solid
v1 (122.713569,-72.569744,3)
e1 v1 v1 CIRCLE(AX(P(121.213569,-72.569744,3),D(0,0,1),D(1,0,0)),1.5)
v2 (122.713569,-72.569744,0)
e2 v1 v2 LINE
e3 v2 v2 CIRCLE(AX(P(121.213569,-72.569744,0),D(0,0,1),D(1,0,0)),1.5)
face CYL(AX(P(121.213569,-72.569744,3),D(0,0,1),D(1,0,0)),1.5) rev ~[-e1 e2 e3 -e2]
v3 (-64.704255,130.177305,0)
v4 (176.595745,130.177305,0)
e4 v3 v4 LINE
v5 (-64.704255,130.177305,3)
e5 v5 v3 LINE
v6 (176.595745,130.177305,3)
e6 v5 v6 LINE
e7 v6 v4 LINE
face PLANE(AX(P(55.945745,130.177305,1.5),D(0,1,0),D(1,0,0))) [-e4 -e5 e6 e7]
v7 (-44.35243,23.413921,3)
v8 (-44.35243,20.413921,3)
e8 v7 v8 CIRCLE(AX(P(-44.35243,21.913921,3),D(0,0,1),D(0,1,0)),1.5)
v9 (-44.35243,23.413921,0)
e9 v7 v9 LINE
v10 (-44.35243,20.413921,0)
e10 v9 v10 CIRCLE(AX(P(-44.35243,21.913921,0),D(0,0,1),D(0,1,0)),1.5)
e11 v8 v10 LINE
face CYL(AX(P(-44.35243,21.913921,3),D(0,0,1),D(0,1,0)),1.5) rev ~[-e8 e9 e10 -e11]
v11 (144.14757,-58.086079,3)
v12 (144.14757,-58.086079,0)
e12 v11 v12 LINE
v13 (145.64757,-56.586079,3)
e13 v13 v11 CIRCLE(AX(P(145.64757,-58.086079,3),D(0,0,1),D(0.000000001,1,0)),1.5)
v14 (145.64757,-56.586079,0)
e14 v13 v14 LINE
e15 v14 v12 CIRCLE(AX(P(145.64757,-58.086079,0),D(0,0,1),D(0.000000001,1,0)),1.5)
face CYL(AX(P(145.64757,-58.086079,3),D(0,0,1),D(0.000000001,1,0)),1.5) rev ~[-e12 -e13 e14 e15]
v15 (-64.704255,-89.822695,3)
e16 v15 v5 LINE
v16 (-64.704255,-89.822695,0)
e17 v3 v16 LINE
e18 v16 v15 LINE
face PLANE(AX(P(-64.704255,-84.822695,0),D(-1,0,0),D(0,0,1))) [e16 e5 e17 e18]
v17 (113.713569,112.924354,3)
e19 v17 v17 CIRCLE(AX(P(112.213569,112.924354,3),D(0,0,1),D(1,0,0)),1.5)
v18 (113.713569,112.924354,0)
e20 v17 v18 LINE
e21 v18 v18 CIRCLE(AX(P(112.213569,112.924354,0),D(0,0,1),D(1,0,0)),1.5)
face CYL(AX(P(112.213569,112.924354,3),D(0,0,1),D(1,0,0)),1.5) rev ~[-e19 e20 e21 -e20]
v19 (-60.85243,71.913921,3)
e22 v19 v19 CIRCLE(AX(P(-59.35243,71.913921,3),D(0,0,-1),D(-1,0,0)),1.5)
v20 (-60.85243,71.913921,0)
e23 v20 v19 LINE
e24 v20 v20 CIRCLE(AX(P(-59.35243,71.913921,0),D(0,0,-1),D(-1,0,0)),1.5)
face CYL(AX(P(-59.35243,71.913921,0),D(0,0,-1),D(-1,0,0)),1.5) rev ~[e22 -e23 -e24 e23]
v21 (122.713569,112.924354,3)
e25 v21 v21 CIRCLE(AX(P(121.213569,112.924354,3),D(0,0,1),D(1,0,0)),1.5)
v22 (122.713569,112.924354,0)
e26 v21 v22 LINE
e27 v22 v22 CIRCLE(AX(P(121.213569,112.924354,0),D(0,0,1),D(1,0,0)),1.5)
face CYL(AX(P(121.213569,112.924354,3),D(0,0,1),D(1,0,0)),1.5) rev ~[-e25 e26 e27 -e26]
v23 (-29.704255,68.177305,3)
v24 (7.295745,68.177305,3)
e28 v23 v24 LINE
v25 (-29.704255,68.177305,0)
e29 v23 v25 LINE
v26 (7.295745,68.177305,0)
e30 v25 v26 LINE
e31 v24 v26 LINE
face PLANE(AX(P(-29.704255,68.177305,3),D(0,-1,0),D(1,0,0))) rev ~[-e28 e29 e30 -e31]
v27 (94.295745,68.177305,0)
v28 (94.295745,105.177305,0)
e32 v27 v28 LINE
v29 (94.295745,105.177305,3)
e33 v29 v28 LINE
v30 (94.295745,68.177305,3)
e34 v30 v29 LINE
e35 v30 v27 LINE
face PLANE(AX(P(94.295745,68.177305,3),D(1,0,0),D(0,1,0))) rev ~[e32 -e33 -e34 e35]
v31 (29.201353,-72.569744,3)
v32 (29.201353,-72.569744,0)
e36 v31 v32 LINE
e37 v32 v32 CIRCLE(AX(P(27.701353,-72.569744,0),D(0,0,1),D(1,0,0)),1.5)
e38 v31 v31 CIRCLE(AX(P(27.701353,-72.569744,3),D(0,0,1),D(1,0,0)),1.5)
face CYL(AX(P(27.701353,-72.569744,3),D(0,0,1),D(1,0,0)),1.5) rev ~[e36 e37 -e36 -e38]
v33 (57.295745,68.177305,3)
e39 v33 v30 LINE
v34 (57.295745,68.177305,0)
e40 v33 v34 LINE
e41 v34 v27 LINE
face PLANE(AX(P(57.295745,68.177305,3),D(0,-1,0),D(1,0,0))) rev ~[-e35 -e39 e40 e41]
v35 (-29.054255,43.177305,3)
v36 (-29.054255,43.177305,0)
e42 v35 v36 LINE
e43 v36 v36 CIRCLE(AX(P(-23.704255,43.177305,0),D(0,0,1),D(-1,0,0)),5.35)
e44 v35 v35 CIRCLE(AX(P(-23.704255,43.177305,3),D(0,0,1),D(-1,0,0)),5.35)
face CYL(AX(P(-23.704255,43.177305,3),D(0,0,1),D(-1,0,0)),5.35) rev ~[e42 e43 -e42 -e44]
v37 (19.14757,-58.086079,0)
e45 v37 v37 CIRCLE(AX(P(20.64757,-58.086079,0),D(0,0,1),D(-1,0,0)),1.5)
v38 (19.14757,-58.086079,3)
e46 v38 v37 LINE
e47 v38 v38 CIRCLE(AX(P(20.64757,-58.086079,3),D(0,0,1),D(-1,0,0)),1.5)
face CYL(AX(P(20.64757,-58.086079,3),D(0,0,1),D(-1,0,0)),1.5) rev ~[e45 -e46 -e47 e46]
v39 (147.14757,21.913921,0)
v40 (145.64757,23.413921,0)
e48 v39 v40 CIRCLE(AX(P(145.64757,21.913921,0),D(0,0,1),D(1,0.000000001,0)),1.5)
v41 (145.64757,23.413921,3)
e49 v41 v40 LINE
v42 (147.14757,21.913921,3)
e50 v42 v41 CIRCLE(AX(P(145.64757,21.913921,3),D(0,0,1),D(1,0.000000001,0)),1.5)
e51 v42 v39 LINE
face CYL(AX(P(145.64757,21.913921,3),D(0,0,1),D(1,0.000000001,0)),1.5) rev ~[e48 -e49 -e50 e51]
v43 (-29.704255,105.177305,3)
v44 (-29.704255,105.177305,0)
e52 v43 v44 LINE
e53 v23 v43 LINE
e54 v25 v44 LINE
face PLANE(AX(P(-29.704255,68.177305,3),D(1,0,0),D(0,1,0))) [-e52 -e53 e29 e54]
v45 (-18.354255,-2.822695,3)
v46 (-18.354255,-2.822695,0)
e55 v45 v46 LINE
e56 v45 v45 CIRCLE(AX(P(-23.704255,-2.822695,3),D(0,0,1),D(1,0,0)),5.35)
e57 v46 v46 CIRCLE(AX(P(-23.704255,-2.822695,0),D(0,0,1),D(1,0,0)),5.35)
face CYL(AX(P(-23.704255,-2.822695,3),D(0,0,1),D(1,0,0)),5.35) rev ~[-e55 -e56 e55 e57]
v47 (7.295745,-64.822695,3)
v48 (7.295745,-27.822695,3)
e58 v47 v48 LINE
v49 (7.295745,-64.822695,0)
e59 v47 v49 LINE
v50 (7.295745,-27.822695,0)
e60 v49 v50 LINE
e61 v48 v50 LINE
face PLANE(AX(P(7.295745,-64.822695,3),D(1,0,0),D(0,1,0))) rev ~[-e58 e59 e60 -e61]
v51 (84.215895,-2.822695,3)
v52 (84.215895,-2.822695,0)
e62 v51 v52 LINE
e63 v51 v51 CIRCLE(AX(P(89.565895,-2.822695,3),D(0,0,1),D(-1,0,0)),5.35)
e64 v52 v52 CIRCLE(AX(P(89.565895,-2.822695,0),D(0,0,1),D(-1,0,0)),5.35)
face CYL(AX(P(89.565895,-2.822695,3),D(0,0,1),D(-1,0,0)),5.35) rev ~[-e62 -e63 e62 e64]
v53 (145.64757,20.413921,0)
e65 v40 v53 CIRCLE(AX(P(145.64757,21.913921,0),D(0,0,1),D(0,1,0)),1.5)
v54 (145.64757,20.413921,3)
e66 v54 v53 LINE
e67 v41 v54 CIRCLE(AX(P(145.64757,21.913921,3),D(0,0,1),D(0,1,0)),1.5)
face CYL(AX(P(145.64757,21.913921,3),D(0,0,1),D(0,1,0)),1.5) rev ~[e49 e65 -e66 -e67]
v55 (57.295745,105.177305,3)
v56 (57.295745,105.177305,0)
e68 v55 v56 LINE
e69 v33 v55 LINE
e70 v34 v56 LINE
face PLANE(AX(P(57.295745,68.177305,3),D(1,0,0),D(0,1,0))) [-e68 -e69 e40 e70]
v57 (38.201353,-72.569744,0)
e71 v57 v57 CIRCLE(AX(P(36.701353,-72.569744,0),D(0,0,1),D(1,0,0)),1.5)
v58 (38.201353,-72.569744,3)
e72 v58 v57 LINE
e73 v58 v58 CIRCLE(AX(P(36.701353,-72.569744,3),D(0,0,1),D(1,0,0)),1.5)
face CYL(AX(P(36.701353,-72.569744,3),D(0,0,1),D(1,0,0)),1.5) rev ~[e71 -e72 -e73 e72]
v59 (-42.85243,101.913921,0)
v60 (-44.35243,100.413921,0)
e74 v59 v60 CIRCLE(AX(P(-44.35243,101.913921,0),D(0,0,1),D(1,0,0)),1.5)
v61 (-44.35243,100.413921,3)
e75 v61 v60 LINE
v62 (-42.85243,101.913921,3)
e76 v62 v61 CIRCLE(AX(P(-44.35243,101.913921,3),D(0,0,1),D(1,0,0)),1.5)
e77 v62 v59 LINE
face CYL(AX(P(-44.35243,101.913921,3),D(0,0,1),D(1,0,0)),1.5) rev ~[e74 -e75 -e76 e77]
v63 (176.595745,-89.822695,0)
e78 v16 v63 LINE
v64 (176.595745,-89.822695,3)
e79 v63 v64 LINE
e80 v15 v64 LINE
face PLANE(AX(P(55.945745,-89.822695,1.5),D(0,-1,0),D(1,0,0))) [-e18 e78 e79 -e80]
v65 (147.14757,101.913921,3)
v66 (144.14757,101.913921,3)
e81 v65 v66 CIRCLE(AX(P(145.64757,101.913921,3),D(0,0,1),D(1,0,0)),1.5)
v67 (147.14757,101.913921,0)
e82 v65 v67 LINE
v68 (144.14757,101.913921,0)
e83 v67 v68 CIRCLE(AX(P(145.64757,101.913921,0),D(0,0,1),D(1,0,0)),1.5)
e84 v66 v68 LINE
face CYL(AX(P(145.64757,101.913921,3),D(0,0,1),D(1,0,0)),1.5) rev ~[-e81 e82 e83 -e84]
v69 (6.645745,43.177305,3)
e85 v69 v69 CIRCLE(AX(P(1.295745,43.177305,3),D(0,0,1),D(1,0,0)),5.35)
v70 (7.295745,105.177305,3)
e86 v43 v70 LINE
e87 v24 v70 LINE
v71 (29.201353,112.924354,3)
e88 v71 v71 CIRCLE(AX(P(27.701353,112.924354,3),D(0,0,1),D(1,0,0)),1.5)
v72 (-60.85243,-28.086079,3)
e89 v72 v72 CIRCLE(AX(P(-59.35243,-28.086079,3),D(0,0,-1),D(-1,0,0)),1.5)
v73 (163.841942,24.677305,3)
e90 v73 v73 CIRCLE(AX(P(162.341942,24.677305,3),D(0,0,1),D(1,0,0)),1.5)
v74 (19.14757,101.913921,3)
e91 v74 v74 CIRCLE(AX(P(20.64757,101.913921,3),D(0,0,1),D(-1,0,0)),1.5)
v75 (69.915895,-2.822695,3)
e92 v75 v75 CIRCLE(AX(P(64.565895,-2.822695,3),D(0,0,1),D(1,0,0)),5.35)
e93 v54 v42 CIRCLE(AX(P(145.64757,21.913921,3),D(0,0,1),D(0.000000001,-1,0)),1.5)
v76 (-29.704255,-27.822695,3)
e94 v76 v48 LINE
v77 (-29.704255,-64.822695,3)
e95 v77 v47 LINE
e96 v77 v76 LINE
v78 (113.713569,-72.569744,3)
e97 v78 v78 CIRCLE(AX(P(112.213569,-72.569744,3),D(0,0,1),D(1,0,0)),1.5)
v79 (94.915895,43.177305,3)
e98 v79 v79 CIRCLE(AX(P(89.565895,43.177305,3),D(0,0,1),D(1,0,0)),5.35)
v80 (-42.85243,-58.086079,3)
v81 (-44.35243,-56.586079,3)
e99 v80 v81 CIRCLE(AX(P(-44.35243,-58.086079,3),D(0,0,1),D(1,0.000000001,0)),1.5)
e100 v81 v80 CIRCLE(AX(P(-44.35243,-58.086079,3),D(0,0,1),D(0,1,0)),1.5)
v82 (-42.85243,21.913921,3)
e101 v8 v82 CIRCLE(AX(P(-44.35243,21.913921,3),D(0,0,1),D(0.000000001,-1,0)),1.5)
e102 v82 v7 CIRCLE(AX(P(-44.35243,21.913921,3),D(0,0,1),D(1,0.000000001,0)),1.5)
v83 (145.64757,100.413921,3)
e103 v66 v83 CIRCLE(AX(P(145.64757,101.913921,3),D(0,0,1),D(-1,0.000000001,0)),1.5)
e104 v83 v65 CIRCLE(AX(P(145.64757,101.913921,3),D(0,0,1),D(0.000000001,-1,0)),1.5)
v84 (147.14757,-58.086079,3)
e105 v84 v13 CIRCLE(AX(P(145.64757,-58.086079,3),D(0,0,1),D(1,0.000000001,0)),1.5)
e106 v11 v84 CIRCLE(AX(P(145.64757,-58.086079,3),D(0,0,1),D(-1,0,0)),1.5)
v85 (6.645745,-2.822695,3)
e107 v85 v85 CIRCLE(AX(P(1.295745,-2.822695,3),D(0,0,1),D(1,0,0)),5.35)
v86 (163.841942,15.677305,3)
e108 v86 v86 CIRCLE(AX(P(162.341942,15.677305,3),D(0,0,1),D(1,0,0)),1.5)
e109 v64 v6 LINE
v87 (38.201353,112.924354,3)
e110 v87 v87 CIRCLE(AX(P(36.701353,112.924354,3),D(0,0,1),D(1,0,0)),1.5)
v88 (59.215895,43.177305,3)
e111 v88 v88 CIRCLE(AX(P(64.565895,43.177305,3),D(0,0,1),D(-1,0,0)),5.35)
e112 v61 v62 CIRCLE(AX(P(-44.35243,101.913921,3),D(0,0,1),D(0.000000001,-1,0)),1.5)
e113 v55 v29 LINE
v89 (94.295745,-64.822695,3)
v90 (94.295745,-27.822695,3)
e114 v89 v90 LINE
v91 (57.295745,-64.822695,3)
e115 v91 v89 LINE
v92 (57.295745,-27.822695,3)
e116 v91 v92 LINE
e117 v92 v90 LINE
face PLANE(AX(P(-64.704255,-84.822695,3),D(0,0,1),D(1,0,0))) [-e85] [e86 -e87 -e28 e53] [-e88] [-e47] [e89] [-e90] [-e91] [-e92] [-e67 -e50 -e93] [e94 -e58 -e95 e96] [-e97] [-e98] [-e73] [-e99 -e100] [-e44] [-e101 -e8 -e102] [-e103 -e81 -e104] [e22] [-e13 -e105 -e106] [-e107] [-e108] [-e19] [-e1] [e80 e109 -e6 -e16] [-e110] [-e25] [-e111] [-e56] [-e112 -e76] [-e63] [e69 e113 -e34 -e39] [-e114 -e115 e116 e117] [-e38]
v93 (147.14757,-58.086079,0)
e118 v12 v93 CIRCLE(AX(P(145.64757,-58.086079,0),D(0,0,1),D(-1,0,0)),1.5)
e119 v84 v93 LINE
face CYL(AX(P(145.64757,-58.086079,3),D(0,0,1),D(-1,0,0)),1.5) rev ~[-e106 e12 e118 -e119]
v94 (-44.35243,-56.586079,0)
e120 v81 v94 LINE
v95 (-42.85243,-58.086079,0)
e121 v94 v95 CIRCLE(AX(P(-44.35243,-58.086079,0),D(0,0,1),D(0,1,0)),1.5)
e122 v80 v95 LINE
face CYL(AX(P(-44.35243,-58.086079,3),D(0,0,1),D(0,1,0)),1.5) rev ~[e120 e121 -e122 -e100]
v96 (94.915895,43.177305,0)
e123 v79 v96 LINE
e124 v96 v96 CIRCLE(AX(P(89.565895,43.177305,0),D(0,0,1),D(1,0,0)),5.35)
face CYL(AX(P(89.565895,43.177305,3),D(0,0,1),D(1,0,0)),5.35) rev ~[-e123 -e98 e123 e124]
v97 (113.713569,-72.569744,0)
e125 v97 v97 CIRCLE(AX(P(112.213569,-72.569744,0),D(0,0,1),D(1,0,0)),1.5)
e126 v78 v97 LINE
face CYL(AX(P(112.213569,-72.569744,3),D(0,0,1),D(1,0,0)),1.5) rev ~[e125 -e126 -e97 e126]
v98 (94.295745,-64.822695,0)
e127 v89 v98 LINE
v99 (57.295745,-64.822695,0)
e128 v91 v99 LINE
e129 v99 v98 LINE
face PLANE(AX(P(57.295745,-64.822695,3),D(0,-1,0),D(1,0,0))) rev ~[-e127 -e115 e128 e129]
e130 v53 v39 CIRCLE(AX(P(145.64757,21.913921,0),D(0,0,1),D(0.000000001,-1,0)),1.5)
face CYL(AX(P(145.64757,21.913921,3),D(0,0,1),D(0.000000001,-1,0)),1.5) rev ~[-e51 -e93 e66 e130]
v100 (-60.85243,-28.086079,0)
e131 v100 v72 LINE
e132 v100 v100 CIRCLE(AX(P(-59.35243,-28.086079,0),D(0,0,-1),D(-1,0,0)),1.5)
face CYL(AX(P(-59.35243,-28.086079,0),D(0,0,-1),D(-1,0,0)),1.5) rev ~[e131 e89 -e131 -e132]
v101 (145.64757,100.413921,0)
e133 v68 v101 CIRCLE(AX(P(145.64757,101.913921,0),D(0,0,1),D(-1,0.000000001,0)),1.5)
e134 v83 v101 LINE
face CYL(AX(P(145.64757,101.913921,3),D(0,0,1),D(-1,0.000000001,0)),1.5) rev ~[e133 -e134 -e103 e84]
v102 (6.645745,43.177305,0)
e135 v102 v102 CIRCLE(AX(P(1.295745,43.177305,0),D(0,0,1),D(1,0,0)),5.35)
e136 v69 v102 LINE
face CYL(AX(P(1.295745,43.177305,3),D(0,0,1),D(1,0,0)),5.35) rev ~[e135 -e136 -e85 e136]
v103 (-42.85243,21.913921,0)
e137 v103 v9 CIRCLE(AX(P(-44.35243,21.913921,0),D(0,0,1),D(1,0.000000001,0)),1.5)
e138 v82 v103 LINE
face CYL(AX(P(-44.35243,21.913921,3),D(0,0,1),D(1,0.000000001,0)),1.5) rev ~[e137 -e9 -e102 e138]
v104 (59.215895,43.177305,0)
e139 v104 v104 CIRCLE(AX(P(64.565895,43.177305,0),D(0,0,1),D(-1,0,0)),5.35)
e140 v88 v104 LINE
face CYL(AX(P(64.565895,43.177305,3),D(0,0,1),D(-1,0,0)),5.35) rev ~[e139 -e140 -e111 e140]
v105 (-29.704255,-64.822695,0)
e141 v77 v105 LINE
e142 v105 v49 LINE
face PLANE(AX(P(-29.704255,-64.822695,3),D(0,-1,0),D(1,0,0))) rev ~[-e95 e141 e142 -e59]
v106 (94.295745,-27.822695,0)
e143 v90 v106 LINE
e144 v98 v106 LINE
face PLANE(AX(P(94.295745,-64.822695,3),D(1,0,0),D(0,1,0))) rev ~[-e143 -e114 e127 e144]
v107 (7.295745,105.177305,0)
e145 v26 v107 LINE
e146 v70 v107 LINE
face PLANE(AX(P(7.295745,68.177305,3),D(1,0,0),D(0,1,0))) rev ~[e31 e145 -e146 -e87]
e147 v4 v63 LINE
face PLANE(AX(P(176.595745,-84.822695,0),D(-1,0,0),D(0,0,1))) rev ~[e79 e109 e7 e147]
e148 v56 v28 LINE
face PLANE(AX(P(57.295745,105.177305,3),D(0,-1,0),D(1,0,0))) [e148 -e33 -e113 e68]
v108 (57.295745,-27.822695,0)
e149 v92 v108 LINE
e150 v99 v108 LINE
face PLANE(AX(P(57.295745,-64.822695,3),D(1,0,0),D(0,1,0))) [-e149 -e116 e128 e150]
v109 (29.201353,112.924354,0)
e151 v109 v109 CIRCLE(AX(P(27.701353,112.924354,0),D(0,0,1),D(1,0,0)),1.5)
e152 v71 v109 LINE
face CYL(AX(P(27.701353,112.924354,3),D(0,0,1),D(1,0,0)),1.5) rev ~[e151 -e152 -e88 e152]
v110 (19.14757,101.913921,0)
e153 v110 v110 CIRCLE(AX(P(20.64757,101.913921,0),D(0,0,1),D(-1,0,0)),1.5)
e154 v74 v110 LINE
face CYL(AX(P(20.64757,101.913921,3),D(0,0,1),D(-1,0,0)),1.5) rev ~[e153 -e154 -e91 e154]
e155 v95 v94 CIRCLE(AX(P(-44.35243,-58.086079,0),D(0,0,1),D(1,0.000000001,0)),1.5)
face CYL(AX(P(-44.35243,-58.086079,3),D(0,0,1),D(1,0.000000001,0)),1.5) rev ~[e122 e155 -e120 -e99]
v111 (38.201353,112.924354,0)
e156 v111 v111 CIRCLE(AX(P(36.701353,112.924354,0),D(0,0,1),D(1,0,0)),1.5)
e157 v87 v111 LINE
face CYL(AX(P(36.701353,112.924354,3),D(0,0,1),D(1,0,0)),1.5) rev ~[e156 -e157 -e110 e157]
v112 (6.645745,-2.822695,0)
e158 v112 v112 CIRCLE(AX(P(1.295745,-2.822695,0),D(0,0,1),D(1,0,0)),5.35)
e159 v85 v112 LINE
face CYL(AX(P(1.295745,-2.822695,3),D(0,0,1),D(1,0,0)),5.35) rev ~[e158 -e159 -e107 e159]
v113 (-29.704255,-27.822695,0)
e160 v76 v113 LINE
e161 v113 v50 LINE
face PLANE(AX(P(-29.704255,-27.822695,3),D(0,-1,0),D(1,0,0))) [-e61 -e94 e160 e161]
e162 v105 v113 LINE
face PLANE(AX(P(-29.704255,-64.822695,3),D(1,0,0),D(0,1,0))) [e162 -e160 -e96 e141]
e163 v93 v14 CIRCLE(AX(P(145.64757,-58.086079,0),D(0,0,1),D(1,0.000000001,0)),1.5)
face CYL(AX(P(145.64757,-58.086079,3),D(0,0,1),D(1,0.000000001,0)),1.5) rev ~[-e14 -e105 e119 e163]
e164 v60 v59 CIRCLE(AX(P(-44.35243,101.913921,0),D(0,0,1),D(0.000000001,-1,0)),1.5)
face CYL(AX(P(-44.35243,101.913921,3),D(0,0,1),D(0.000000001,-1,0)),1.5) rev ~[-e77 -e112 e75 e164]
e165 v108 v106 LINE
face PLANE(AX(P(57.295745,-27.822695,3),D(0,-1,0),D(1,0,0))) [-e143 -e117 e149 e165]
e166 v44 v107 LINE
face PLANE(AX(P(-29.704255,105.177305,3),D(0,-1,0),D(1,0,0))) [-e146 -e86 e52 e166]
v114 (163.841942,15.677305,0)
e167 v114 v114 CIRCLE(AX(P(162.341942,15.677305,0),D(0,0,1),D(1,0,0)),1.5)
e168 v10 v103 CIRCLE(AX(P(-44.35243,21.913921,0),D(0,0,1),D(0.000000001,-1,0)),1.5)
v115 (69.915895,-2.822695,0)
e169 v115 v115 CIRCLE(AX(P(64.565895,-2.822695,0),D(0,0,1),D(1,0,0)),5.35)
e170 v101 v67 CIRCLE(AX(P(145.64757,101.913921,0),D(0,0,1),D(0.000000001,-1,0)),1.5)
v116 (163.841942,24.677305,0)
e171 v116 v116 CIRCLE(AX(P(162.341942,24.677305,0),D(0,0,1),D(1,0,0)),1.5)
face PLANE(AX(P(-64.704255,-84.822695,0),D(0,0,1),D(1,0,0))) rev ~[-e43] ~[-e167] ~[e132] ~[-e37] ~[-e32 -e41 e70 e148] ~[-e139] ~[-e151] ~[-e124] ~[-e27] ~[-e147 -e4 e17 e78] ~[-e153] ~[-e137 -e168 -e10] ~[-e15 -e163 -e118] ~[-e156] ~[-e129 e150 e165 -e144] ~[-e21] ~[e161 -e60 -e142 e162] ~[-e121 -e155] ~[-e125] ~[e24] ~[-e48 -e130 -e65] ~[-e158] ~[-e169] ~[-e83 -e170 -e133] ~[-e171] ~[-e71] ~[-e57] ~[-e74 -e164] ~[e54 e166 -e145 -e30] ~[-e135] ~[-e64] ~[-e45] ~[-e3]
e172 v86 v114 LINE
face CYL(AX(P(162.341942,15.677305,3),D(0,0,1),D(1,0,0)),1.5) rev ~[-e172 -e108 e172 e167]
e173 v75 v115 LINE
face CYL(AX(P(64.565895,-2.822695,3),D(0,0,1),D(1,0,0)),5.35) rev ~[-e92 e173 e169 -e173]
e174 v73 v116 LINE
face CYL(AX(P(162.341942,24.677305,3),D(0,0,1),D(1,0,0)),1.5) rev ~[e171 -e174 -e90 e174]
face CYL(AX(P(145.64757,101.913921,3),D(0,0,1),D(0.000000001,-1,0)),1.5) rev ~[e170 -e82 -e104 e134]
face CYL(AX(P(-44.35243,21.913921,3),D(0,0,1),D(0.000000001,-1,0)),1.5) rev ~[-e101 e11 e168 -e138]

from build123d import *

# Parameters (mm, degrees)
SKETCH1_W           = 241.3
SKETCH1_H           = 210
BOSS_EXTRUDE1_DEPTH = 3
SKETCH2_W           = 37
SKETCH2_H           = 37
CUT_EXTRUDE1_DEPTH  = 3
SKETCH3_R           = 5.35
CUT_EXTRUDE2_DEPTH  = 3
CUT_EXTRUDE3_DEPTH  = 3
SKETCH9_W           = 241.3
SKETCH9_H           = 3
BOSS_EXTRUDE2_DEPTH = 5
SKETCH10_W          = 241.3
SKETCH10_H          = 3
BOSS_EXTRUDE3_DEPTH = 5
SKETCH11_R          = 1.5
CUT_EXTRUDE4_DEPTH  = 5
SKETCH12_R          = 1.5
CUT_EXTRUDE5_DEPTH  = 10
SKETCH13_R          = 1.5
CUT_EXTRUDE6_DEPTH  = 10


with BuildPart() as part:
    # Sketch1 → Boss-Extrude1 (new body)
    with BuildSketch(Plane.XY):
        with Locations((55.945744681, 20.177304965)):
            Rectangle(SKETCH1_W, SKETCH1_H)
    extrude(amount=BOSS_EXTRUDE1_DEPTH)

    # Sketch2 → Cut-Extrude1 (cut)
    with BuildSketch(Plane.XY.offset(3)):
        with Locations((-11.204255319, -46.322695035)):
            Rectangle(SKETCH2_W, SKETCH2_H)
        with Locations((75.795744681, -46.322695035)):
            Rectangle(SKETCH2_W, SKETCH2_H)
        with Locations((75.795744681, 86.677304965)):
            Rectangle(SKETCH2_W, SKETCH2_H)
        with Locations((-11.204255319, 86.677304965)):
            Rectangle(SKETCH2_W, SKETCH2_H)
    extrude(amount=-CUT_EXTRUDE1_DEPTH, mode=Mode.SUBTRACT)

    # Sketch3 → Cut-Extrude2 (cut)
    with BuildSketch(Plane.XY.offset(3)):
        with Locations((-23.704255319, -2.822695035)):
            Circle(SKETCH3_R)
        with Locations((1.295744681, -2.822695035)):
            Circle(SKETCH3_R)
        with Locations(Location((-23.704255319, 43.177304965, 0), (0, 0, 180))):
            Circle(SKETCH3_R)
        with Locations((1.295744681, 43.177304965)):
            Circle(SKETCH3_R)
        with Locations(Location((64.565894544, 43.177304965, 0), (0, 0, 180))):
            Circle(SKETCH3_R)
        with Locations((89.565894544, 43.177304965)):
            Circle(SKETCH3_R)
        with Locations(Location((89.565894544, -2.822695035, 0), (0, 0, 180))):
            Circle(SKETCH3_R)
        with Locations((64.565894544, -2.822695035)):
            Circle(SKETCH3_R)
    extrude(amount=-CUT_EXTRUDE2_DEPTH, mode=Mode.SUBTRACT)

    # Sketch6 → Cut-Extrude3 (cut)
    with BuildSketch(Plane.XY.offset(3)):
        with BuildLine():
            ThreePointArc((-42.852430173, 101.913921459), (-45.413090345, 102.974581631), (-44.352430173, 100.413921459))
            Line((-44.352430173, 100.413921459), (-44.352430173, 101.913921459))
            Line((-44.352430173, 101.913921459), (-42.852430173, 101.913921459))
        make_face()
        with BuildLine():
            Line((-44.352430173, 101.913921459), (-44.352430173, 100.413921459))
            ThreePointArc((-44.352430173, 100.413921459), (-43.291770002, 100.853261287), (-42.852430173, 101.913921459))
            Line((-42.852430173, 101.913921459), (-44.352430173, 101.913921459))
        make_face()
        with BuildLine():
            ThreePointArc((-42.852430173, 101.913921459), (-45.413090345, 102.974581631), (-44.352430173, 100.413921459))
            Line((-44.352430173, 100.413921459), (-44.352430173, 101.913921459))
            Line((-44.352430173, 101.913921459), (-42.852430173, 101.913921459))
        make_face()
        with BuildLine():
            Line((-44.352430173, 101.913921459), (-44.352430173, 100.413921459))
            ThreePointArc((-44.352430173, 100.413921459), (-43.291770002, 100.853261287), (-42.852430173, 101.913921459))
            Line((-42.852430173, 101.913921459), (-44.352430173, 101.913921459))
        make_face()
        with BuildLine():
            ThreePointArc((22.147569827, 101.913921459), (20.647569827, 103.413921459), (19.147569827, 101.913921459))
            Line((19.147569827, 101.913921459), (22.147569827, 101.913921459))
        make_face()
        with BuildLine():
            Line((22.147569827, 101.913921459), (19.147569827, 101.913921459))
            ThreePointArc((19.147569827, 101.913921459), (20.647569827, 100.413921459), (22.147569827, 101.913921459))
        make_face()
        with BuildLine():
            ThreePointArc((22.147569827, 101.913921459), (20.647569827, 103.413921459), (19.147569827, 101.913921459))
            Line((19.147569827, 101.913921459), (22.147569827, 101.913921459))
        make_face()
        with BuildLine():
            Line((22.147569827, 101.913921459), (19.147569827, 101.913921459))
            ThreePointArc((19.147569827, 101.913921459), (20.647569827, 100.413921459), (22.147569827, 101.913921459))
        make_face()
        with BuildLine():
            ThreePointArc((144.147569827, 101.913921459), (144.586909655, 100.853261287), (145.647569827, 100.413921459))
            Line((145.647569827, 100.413921459), (145.647569827, 101.913921459))
            Line((145.647569827, 101.913921459), (144.147569827, 101.913921459))
        make_face()
        with BuildLine():
            Line((145.647569827, 101.913921459), (145.647569827, 100.413921459))
            ThreePointArc((145.647569827, 100.413921459), (146.708229998, 100.853261287), (147.147569827, 101.913921459))
            ThreePointArc((147.147569827, 101.913921459), (145.647569827, 103.413921459), (144.147569827, 101.913921459))
            Line((144.147569827, 101.913921459), (145.647569827, 101.913921459))
        make_face()
        with BuildLine():
            ThreePointArc((144.147569827, 101.913921459), (144.586909655, 100.853261287), (145.647569827, 100.413921459))
            Line((145.647569827, 100.413921459), (145.647569827, 101.913921459))
            Line((145.647569827, 101.913921459), (144.147569827, 101.913921459))
        make_face()
        with BuildLine():
            Line((145.647569827, 101.913921459), (145.647569827, 100.413921459))
            ThreePointArc((145.647569827, 100.413921459), (146.708229998, 100.853261287), (147.147569827, 101.913921459))
            ThreePointArc((147.147569827, 101.913921459), (145.647569827, 103.413921459), (144.147569827, 101.913921459))
            Line((144.147569827, 101.913921459), (145.647569827, 101.913921459))
        make_face()
        with BuildLine():
            ThreePointArc((145.647569827, 23.413921459), (144.147569827, 21.913921459), (145.647569827, 20.413921459))
            Line((145.647569827, 20.413921459), (145.647569827, 23.413921459))
        make_face()
        with BuildLine():
            Line((145.647569827, 23.413921459), (145.647569827, 20.413921459))
            ThreePointArc((145.647569827, 20.413921459), (146.708229998, 20.853261287), (147.147569827, 21.913921459))
            ThreePointArc((147.147569827, 21.913921459), (146.708229998, 22.974581631), (145.647569827, 23.413921459))
        make_face()
        with BuildLine():
            ThreePointArc((145.647569827, 23.413921459), (144.147569827, 21.913921459), (145.647569827, 20.413921459))
            Line((145.647569827, 20.413921459), (145.647569827, 23.413921459))
        make_face()
        with BuildLine():
            Line((145.647569827, 23.413921459), (145.647569827, 20.413921459))
            ThreePointArc((145.647569827, 20.413921459), (146.708229998, 20.853261287), (147.147569827, 21.913921459))
            ThreePointArc((147.147569827, 21.913921459), (146.708229998, 22.974581631), (145.647569827, 23.413921459))
        make_face()
        with BuildLine():
            ThreePointArc((145.647569827, -56.586078541), (144.586909655, -57.025418369), (144.147569827, -58.086078541))
            Line((144.147569827, -58.086078541), (145.647569827, -58.086078541))
            Line((145.647569827, -58.086078541), (145.647569827, -56.586078541))
        make_face()
        with BuildLine():
            Line((145.647569827, -58.086078541), (144.147569827, -58.086078541))
            ThreePointArc((144.147569827, -58.086078541), (145.647569827, -59.586078541), (147.147569827, -58.086078541))
            ThreePointArc((147.147569827, -58.086078541), (146.708229998, -57.025418369), (145.647569827, -56.586078541))
            Line((145.647569827, -56.586078541), (145.647569827, -58.086078541))
        make_face()
        with BuildLine():
            ThreePointArc((145.647569827, -56.586078541), (144.586909655, -57.025418369), (144.147569827, -58.086078541))
            Line((144.147569827, -58.086078541), (145.647569827, -58.086078541))
            Line((145.647569827, -58.086078541), (145.647569827, -56.586078541))
        make_face()
        with BuildLine():
            Line((145.647569827, -58.086078541), (144.147569827, -58.086078541))
            ThreePointArc((144.147569827, -58.086078541), (145.647569827, -59.586078541), (147.147569827, -58.086078541))
            ThreePointArc((147.147569827, -58.086078541), (146.708229998, -57.025418369), (145.647569827, -56.586078541))
            Line((145.647569827, -56.586078541), (145.647569827, -58.086078541))
        make_face()
        with BuildLine():
            ThreePointArc((22.147569827, -58.086078541), (20.647569827, -56.586078541), (19.147569827, -58.086078541))
            Line((19.147569827, -58.086078541), (22.147569827, -58.086078541))
        make_face()
        with BuildLine():
            Line((22.147569827, -58.086078541), (19.147569827, -58.086078541))
            ThreePointArc((19.147569827, -58.086078541), (20.647569827, -59.586078541), (22.147569827, -58.086078541))
        make_face()
        with BuildLine():
            ThreePointArc((22.147569827, -58.086078541), (20.647569827, -56.586078541), (19.147569827, -58.086078541))
            Line((19.147569827, -58.086078541), (22.147569827, -58.086078541))
        make_face()
        with BuildLine():
            Line((22.147569827, -58.086078541), (19.147569827, -58.086078541))
            ThreePointArc((19.147569827, -58.086078541), (20.647569827, -59.586078541), (22.147569827, -58.086078541))
        make_face()
        with BuildLine():
            Line((-44.352430173, -56.586078541), (-44.352430173, -58.086078541))
            Line((-44.352430173, -58.086078541), (-42.852430173, -58.086078541))
            ThreePointArc((-42.852430173, -58.086078541), (-43.291770002, -57.025418369), (-44.352430173, -56.586078541))
        make_face()
        with BuildLine():
            Line((-42.852430173, -58.086078541), (-44.352430173, -58.086078541))
            Line((-44.352430173, -58.086078541), (-44.352430173, -56.586078541))
            ThreePointArc((-44.352430173, -56.586078541), (-45.413090345, -59.146738713), (-42.852430173, -58.086078541))
        make_face()
        with BuildLine():
            Line((-44.352430173, -56.586078541), (-44.352430173, -58.086078541))
            Line((-44.352430173, -58.086078541), (-42.852430173, -58.086078541))
            ThreePointArc((-42.852430173, -58.086078541), (-43.291770002, -57.025418369), (-44.352430173, -56.586078541))
        make_face()
        with BuildLine():
            Line((-42.852430173, -58.086078541), (-44.352430173, -58.086078541))
            Line((-44.352430173, -58.086078541), (-44.352430173, -56.586078541))
            ThreePointArc((-44.352430173, -56.586078541), (-45.413090345, -59.146738713), (-42.852430173, -58.086078541))
        make_face()
        with BuildLine():
            ThreePointArc((-44.352430173, 23.413921459), (-45.852430173, 21.913921459), (-44.352430173, 20.413921459))
            Line((-44.352430173, 20.413921459), (-44.352430173, 23.413921459))
        make_face()
        with BuildLine():
            Line((-44.352430173, 23.413921459), (-44.352430173, 20.413921459))
            ThreePointArc((-44.352430173, 20.413921459), (-43.291770002, 20.853261287), (-42.852430173, 21.913921459))
            ThreePointArc((-42.852430173, 21.913921459), (-43.291770002, 22.974581631), (-44.352430173, 23.413921459))
        make_face()
        with BuildLine():
            ThreePointArc((-44.352430173, 23.413921459), (-45.852430173, 21.913921459), (-44.352430173, 20.413921459))
            Line((-44.352430173, 20.413921459), (-44.352430173, 23.413921459))
        make_face()
        with BuildLine():
            Line((-44.352430173, 23.413921459), (-44.352430173, 20.413921459))
            ThreePointArc((-44.352430173, 20.413921459), (-43.291770002, 20.853261287), (-42.852430173, 21.913921459))
            ThreePointArc((-42.852430173, 21.913921459), (-43.291770002, 22.974581631), (-44.352430173, 23.413921459))
        make_face()
    extrude(amount=-CUT_EXTRUDE3_DEPTH, mode=Mode.SUBTRACT)

    # Sketch9 → Boss-Extrude2 (add)
    with BuildSketch(Plane(origin=(0, 125.177304965, 0), x_dir=(1, 0, 0), z_dir=(0, 1, 0))):
        with Locations((55.945744681, -1.5)):
            Rectangle(SKETCH9_W, SKETCH9_H)
    extrude(amount=BOSS_EXTRUDE2_DEPTH)

    # Sketch10 → Boss-Extrude3 (add)
    with BuildSketch(Plane.XZ.offset(84.822695035)):
        with Locations((55.945744681, 1.5)):
            Rectangle(SKETCH10_W, SKETCH10_H)
    extrude(amount=BOSS_EXTRUDE3_DEPTH)

    # Sketch11 → Cut-Extrude4 (cut)
    with BuildSketch(Plane.XY.offset(3)):
        with Locations((27.701352581, 112.924353788)):
            Circle(SKETCH11_R)
        with Locations((36.701352581, 112.924353788)):
            Circle(SKETCH11_R)
        with Locations((112.213569446, 112.924353788)):
            Circle(SKETCH11_R)
        with Locations((121.213569446, 112.924353788)):
            Circle(SKETCH11_R)
        with Locations((121.213569446, -72.569743859)):
            Circle(SKETCH11_R)
        with Locations((112.213569446, -72.569743859)):
            Circle(SKETCH11_R)
        with Locations((36.701352581, -72.569743859)):
            Circle(SKETCH11_R)
        with Locations((27.701352581, -72.569743859)):
            Circle(SKETCH11_R)
    extrude(amount=-CUT_EXTRUDE4_DEPTH, mode=Mode.SUBTRACT)

    # Sketch12 → Cut-Extrude5 (cut)
    with BuildSketch(Plane.XY.offset(3)):
        with Locations((162.341941635, 24.677304965)):
            Circle(SKETCH12_R)
        with Locations((162.341941635, 15.677304965)):
            Circle(SKETCH12_R)
    extrude(amount=-CUT_EXTRUDE5_DEPTH, mode=Mode.SUBTRACT)

    # Sketch13 → Cut-Extrude6 (cut)
    with BuildSketch(Plane(origin=(0, 0, 0), x_dir=(-1, 0, 0), z_dir=(0, 0, -1))):
        with Locations((59.352430173, 71.913921459)):
            Circle(SKETCH13_R)
        with Locations((59.352430173, -28.086078541)):
            Circle(SKETCH13_R)
    extrude(amount=-CUT_EXTRUDE6_DEPTH, mode=Mode.SUBTRACT)


solid = part.part
